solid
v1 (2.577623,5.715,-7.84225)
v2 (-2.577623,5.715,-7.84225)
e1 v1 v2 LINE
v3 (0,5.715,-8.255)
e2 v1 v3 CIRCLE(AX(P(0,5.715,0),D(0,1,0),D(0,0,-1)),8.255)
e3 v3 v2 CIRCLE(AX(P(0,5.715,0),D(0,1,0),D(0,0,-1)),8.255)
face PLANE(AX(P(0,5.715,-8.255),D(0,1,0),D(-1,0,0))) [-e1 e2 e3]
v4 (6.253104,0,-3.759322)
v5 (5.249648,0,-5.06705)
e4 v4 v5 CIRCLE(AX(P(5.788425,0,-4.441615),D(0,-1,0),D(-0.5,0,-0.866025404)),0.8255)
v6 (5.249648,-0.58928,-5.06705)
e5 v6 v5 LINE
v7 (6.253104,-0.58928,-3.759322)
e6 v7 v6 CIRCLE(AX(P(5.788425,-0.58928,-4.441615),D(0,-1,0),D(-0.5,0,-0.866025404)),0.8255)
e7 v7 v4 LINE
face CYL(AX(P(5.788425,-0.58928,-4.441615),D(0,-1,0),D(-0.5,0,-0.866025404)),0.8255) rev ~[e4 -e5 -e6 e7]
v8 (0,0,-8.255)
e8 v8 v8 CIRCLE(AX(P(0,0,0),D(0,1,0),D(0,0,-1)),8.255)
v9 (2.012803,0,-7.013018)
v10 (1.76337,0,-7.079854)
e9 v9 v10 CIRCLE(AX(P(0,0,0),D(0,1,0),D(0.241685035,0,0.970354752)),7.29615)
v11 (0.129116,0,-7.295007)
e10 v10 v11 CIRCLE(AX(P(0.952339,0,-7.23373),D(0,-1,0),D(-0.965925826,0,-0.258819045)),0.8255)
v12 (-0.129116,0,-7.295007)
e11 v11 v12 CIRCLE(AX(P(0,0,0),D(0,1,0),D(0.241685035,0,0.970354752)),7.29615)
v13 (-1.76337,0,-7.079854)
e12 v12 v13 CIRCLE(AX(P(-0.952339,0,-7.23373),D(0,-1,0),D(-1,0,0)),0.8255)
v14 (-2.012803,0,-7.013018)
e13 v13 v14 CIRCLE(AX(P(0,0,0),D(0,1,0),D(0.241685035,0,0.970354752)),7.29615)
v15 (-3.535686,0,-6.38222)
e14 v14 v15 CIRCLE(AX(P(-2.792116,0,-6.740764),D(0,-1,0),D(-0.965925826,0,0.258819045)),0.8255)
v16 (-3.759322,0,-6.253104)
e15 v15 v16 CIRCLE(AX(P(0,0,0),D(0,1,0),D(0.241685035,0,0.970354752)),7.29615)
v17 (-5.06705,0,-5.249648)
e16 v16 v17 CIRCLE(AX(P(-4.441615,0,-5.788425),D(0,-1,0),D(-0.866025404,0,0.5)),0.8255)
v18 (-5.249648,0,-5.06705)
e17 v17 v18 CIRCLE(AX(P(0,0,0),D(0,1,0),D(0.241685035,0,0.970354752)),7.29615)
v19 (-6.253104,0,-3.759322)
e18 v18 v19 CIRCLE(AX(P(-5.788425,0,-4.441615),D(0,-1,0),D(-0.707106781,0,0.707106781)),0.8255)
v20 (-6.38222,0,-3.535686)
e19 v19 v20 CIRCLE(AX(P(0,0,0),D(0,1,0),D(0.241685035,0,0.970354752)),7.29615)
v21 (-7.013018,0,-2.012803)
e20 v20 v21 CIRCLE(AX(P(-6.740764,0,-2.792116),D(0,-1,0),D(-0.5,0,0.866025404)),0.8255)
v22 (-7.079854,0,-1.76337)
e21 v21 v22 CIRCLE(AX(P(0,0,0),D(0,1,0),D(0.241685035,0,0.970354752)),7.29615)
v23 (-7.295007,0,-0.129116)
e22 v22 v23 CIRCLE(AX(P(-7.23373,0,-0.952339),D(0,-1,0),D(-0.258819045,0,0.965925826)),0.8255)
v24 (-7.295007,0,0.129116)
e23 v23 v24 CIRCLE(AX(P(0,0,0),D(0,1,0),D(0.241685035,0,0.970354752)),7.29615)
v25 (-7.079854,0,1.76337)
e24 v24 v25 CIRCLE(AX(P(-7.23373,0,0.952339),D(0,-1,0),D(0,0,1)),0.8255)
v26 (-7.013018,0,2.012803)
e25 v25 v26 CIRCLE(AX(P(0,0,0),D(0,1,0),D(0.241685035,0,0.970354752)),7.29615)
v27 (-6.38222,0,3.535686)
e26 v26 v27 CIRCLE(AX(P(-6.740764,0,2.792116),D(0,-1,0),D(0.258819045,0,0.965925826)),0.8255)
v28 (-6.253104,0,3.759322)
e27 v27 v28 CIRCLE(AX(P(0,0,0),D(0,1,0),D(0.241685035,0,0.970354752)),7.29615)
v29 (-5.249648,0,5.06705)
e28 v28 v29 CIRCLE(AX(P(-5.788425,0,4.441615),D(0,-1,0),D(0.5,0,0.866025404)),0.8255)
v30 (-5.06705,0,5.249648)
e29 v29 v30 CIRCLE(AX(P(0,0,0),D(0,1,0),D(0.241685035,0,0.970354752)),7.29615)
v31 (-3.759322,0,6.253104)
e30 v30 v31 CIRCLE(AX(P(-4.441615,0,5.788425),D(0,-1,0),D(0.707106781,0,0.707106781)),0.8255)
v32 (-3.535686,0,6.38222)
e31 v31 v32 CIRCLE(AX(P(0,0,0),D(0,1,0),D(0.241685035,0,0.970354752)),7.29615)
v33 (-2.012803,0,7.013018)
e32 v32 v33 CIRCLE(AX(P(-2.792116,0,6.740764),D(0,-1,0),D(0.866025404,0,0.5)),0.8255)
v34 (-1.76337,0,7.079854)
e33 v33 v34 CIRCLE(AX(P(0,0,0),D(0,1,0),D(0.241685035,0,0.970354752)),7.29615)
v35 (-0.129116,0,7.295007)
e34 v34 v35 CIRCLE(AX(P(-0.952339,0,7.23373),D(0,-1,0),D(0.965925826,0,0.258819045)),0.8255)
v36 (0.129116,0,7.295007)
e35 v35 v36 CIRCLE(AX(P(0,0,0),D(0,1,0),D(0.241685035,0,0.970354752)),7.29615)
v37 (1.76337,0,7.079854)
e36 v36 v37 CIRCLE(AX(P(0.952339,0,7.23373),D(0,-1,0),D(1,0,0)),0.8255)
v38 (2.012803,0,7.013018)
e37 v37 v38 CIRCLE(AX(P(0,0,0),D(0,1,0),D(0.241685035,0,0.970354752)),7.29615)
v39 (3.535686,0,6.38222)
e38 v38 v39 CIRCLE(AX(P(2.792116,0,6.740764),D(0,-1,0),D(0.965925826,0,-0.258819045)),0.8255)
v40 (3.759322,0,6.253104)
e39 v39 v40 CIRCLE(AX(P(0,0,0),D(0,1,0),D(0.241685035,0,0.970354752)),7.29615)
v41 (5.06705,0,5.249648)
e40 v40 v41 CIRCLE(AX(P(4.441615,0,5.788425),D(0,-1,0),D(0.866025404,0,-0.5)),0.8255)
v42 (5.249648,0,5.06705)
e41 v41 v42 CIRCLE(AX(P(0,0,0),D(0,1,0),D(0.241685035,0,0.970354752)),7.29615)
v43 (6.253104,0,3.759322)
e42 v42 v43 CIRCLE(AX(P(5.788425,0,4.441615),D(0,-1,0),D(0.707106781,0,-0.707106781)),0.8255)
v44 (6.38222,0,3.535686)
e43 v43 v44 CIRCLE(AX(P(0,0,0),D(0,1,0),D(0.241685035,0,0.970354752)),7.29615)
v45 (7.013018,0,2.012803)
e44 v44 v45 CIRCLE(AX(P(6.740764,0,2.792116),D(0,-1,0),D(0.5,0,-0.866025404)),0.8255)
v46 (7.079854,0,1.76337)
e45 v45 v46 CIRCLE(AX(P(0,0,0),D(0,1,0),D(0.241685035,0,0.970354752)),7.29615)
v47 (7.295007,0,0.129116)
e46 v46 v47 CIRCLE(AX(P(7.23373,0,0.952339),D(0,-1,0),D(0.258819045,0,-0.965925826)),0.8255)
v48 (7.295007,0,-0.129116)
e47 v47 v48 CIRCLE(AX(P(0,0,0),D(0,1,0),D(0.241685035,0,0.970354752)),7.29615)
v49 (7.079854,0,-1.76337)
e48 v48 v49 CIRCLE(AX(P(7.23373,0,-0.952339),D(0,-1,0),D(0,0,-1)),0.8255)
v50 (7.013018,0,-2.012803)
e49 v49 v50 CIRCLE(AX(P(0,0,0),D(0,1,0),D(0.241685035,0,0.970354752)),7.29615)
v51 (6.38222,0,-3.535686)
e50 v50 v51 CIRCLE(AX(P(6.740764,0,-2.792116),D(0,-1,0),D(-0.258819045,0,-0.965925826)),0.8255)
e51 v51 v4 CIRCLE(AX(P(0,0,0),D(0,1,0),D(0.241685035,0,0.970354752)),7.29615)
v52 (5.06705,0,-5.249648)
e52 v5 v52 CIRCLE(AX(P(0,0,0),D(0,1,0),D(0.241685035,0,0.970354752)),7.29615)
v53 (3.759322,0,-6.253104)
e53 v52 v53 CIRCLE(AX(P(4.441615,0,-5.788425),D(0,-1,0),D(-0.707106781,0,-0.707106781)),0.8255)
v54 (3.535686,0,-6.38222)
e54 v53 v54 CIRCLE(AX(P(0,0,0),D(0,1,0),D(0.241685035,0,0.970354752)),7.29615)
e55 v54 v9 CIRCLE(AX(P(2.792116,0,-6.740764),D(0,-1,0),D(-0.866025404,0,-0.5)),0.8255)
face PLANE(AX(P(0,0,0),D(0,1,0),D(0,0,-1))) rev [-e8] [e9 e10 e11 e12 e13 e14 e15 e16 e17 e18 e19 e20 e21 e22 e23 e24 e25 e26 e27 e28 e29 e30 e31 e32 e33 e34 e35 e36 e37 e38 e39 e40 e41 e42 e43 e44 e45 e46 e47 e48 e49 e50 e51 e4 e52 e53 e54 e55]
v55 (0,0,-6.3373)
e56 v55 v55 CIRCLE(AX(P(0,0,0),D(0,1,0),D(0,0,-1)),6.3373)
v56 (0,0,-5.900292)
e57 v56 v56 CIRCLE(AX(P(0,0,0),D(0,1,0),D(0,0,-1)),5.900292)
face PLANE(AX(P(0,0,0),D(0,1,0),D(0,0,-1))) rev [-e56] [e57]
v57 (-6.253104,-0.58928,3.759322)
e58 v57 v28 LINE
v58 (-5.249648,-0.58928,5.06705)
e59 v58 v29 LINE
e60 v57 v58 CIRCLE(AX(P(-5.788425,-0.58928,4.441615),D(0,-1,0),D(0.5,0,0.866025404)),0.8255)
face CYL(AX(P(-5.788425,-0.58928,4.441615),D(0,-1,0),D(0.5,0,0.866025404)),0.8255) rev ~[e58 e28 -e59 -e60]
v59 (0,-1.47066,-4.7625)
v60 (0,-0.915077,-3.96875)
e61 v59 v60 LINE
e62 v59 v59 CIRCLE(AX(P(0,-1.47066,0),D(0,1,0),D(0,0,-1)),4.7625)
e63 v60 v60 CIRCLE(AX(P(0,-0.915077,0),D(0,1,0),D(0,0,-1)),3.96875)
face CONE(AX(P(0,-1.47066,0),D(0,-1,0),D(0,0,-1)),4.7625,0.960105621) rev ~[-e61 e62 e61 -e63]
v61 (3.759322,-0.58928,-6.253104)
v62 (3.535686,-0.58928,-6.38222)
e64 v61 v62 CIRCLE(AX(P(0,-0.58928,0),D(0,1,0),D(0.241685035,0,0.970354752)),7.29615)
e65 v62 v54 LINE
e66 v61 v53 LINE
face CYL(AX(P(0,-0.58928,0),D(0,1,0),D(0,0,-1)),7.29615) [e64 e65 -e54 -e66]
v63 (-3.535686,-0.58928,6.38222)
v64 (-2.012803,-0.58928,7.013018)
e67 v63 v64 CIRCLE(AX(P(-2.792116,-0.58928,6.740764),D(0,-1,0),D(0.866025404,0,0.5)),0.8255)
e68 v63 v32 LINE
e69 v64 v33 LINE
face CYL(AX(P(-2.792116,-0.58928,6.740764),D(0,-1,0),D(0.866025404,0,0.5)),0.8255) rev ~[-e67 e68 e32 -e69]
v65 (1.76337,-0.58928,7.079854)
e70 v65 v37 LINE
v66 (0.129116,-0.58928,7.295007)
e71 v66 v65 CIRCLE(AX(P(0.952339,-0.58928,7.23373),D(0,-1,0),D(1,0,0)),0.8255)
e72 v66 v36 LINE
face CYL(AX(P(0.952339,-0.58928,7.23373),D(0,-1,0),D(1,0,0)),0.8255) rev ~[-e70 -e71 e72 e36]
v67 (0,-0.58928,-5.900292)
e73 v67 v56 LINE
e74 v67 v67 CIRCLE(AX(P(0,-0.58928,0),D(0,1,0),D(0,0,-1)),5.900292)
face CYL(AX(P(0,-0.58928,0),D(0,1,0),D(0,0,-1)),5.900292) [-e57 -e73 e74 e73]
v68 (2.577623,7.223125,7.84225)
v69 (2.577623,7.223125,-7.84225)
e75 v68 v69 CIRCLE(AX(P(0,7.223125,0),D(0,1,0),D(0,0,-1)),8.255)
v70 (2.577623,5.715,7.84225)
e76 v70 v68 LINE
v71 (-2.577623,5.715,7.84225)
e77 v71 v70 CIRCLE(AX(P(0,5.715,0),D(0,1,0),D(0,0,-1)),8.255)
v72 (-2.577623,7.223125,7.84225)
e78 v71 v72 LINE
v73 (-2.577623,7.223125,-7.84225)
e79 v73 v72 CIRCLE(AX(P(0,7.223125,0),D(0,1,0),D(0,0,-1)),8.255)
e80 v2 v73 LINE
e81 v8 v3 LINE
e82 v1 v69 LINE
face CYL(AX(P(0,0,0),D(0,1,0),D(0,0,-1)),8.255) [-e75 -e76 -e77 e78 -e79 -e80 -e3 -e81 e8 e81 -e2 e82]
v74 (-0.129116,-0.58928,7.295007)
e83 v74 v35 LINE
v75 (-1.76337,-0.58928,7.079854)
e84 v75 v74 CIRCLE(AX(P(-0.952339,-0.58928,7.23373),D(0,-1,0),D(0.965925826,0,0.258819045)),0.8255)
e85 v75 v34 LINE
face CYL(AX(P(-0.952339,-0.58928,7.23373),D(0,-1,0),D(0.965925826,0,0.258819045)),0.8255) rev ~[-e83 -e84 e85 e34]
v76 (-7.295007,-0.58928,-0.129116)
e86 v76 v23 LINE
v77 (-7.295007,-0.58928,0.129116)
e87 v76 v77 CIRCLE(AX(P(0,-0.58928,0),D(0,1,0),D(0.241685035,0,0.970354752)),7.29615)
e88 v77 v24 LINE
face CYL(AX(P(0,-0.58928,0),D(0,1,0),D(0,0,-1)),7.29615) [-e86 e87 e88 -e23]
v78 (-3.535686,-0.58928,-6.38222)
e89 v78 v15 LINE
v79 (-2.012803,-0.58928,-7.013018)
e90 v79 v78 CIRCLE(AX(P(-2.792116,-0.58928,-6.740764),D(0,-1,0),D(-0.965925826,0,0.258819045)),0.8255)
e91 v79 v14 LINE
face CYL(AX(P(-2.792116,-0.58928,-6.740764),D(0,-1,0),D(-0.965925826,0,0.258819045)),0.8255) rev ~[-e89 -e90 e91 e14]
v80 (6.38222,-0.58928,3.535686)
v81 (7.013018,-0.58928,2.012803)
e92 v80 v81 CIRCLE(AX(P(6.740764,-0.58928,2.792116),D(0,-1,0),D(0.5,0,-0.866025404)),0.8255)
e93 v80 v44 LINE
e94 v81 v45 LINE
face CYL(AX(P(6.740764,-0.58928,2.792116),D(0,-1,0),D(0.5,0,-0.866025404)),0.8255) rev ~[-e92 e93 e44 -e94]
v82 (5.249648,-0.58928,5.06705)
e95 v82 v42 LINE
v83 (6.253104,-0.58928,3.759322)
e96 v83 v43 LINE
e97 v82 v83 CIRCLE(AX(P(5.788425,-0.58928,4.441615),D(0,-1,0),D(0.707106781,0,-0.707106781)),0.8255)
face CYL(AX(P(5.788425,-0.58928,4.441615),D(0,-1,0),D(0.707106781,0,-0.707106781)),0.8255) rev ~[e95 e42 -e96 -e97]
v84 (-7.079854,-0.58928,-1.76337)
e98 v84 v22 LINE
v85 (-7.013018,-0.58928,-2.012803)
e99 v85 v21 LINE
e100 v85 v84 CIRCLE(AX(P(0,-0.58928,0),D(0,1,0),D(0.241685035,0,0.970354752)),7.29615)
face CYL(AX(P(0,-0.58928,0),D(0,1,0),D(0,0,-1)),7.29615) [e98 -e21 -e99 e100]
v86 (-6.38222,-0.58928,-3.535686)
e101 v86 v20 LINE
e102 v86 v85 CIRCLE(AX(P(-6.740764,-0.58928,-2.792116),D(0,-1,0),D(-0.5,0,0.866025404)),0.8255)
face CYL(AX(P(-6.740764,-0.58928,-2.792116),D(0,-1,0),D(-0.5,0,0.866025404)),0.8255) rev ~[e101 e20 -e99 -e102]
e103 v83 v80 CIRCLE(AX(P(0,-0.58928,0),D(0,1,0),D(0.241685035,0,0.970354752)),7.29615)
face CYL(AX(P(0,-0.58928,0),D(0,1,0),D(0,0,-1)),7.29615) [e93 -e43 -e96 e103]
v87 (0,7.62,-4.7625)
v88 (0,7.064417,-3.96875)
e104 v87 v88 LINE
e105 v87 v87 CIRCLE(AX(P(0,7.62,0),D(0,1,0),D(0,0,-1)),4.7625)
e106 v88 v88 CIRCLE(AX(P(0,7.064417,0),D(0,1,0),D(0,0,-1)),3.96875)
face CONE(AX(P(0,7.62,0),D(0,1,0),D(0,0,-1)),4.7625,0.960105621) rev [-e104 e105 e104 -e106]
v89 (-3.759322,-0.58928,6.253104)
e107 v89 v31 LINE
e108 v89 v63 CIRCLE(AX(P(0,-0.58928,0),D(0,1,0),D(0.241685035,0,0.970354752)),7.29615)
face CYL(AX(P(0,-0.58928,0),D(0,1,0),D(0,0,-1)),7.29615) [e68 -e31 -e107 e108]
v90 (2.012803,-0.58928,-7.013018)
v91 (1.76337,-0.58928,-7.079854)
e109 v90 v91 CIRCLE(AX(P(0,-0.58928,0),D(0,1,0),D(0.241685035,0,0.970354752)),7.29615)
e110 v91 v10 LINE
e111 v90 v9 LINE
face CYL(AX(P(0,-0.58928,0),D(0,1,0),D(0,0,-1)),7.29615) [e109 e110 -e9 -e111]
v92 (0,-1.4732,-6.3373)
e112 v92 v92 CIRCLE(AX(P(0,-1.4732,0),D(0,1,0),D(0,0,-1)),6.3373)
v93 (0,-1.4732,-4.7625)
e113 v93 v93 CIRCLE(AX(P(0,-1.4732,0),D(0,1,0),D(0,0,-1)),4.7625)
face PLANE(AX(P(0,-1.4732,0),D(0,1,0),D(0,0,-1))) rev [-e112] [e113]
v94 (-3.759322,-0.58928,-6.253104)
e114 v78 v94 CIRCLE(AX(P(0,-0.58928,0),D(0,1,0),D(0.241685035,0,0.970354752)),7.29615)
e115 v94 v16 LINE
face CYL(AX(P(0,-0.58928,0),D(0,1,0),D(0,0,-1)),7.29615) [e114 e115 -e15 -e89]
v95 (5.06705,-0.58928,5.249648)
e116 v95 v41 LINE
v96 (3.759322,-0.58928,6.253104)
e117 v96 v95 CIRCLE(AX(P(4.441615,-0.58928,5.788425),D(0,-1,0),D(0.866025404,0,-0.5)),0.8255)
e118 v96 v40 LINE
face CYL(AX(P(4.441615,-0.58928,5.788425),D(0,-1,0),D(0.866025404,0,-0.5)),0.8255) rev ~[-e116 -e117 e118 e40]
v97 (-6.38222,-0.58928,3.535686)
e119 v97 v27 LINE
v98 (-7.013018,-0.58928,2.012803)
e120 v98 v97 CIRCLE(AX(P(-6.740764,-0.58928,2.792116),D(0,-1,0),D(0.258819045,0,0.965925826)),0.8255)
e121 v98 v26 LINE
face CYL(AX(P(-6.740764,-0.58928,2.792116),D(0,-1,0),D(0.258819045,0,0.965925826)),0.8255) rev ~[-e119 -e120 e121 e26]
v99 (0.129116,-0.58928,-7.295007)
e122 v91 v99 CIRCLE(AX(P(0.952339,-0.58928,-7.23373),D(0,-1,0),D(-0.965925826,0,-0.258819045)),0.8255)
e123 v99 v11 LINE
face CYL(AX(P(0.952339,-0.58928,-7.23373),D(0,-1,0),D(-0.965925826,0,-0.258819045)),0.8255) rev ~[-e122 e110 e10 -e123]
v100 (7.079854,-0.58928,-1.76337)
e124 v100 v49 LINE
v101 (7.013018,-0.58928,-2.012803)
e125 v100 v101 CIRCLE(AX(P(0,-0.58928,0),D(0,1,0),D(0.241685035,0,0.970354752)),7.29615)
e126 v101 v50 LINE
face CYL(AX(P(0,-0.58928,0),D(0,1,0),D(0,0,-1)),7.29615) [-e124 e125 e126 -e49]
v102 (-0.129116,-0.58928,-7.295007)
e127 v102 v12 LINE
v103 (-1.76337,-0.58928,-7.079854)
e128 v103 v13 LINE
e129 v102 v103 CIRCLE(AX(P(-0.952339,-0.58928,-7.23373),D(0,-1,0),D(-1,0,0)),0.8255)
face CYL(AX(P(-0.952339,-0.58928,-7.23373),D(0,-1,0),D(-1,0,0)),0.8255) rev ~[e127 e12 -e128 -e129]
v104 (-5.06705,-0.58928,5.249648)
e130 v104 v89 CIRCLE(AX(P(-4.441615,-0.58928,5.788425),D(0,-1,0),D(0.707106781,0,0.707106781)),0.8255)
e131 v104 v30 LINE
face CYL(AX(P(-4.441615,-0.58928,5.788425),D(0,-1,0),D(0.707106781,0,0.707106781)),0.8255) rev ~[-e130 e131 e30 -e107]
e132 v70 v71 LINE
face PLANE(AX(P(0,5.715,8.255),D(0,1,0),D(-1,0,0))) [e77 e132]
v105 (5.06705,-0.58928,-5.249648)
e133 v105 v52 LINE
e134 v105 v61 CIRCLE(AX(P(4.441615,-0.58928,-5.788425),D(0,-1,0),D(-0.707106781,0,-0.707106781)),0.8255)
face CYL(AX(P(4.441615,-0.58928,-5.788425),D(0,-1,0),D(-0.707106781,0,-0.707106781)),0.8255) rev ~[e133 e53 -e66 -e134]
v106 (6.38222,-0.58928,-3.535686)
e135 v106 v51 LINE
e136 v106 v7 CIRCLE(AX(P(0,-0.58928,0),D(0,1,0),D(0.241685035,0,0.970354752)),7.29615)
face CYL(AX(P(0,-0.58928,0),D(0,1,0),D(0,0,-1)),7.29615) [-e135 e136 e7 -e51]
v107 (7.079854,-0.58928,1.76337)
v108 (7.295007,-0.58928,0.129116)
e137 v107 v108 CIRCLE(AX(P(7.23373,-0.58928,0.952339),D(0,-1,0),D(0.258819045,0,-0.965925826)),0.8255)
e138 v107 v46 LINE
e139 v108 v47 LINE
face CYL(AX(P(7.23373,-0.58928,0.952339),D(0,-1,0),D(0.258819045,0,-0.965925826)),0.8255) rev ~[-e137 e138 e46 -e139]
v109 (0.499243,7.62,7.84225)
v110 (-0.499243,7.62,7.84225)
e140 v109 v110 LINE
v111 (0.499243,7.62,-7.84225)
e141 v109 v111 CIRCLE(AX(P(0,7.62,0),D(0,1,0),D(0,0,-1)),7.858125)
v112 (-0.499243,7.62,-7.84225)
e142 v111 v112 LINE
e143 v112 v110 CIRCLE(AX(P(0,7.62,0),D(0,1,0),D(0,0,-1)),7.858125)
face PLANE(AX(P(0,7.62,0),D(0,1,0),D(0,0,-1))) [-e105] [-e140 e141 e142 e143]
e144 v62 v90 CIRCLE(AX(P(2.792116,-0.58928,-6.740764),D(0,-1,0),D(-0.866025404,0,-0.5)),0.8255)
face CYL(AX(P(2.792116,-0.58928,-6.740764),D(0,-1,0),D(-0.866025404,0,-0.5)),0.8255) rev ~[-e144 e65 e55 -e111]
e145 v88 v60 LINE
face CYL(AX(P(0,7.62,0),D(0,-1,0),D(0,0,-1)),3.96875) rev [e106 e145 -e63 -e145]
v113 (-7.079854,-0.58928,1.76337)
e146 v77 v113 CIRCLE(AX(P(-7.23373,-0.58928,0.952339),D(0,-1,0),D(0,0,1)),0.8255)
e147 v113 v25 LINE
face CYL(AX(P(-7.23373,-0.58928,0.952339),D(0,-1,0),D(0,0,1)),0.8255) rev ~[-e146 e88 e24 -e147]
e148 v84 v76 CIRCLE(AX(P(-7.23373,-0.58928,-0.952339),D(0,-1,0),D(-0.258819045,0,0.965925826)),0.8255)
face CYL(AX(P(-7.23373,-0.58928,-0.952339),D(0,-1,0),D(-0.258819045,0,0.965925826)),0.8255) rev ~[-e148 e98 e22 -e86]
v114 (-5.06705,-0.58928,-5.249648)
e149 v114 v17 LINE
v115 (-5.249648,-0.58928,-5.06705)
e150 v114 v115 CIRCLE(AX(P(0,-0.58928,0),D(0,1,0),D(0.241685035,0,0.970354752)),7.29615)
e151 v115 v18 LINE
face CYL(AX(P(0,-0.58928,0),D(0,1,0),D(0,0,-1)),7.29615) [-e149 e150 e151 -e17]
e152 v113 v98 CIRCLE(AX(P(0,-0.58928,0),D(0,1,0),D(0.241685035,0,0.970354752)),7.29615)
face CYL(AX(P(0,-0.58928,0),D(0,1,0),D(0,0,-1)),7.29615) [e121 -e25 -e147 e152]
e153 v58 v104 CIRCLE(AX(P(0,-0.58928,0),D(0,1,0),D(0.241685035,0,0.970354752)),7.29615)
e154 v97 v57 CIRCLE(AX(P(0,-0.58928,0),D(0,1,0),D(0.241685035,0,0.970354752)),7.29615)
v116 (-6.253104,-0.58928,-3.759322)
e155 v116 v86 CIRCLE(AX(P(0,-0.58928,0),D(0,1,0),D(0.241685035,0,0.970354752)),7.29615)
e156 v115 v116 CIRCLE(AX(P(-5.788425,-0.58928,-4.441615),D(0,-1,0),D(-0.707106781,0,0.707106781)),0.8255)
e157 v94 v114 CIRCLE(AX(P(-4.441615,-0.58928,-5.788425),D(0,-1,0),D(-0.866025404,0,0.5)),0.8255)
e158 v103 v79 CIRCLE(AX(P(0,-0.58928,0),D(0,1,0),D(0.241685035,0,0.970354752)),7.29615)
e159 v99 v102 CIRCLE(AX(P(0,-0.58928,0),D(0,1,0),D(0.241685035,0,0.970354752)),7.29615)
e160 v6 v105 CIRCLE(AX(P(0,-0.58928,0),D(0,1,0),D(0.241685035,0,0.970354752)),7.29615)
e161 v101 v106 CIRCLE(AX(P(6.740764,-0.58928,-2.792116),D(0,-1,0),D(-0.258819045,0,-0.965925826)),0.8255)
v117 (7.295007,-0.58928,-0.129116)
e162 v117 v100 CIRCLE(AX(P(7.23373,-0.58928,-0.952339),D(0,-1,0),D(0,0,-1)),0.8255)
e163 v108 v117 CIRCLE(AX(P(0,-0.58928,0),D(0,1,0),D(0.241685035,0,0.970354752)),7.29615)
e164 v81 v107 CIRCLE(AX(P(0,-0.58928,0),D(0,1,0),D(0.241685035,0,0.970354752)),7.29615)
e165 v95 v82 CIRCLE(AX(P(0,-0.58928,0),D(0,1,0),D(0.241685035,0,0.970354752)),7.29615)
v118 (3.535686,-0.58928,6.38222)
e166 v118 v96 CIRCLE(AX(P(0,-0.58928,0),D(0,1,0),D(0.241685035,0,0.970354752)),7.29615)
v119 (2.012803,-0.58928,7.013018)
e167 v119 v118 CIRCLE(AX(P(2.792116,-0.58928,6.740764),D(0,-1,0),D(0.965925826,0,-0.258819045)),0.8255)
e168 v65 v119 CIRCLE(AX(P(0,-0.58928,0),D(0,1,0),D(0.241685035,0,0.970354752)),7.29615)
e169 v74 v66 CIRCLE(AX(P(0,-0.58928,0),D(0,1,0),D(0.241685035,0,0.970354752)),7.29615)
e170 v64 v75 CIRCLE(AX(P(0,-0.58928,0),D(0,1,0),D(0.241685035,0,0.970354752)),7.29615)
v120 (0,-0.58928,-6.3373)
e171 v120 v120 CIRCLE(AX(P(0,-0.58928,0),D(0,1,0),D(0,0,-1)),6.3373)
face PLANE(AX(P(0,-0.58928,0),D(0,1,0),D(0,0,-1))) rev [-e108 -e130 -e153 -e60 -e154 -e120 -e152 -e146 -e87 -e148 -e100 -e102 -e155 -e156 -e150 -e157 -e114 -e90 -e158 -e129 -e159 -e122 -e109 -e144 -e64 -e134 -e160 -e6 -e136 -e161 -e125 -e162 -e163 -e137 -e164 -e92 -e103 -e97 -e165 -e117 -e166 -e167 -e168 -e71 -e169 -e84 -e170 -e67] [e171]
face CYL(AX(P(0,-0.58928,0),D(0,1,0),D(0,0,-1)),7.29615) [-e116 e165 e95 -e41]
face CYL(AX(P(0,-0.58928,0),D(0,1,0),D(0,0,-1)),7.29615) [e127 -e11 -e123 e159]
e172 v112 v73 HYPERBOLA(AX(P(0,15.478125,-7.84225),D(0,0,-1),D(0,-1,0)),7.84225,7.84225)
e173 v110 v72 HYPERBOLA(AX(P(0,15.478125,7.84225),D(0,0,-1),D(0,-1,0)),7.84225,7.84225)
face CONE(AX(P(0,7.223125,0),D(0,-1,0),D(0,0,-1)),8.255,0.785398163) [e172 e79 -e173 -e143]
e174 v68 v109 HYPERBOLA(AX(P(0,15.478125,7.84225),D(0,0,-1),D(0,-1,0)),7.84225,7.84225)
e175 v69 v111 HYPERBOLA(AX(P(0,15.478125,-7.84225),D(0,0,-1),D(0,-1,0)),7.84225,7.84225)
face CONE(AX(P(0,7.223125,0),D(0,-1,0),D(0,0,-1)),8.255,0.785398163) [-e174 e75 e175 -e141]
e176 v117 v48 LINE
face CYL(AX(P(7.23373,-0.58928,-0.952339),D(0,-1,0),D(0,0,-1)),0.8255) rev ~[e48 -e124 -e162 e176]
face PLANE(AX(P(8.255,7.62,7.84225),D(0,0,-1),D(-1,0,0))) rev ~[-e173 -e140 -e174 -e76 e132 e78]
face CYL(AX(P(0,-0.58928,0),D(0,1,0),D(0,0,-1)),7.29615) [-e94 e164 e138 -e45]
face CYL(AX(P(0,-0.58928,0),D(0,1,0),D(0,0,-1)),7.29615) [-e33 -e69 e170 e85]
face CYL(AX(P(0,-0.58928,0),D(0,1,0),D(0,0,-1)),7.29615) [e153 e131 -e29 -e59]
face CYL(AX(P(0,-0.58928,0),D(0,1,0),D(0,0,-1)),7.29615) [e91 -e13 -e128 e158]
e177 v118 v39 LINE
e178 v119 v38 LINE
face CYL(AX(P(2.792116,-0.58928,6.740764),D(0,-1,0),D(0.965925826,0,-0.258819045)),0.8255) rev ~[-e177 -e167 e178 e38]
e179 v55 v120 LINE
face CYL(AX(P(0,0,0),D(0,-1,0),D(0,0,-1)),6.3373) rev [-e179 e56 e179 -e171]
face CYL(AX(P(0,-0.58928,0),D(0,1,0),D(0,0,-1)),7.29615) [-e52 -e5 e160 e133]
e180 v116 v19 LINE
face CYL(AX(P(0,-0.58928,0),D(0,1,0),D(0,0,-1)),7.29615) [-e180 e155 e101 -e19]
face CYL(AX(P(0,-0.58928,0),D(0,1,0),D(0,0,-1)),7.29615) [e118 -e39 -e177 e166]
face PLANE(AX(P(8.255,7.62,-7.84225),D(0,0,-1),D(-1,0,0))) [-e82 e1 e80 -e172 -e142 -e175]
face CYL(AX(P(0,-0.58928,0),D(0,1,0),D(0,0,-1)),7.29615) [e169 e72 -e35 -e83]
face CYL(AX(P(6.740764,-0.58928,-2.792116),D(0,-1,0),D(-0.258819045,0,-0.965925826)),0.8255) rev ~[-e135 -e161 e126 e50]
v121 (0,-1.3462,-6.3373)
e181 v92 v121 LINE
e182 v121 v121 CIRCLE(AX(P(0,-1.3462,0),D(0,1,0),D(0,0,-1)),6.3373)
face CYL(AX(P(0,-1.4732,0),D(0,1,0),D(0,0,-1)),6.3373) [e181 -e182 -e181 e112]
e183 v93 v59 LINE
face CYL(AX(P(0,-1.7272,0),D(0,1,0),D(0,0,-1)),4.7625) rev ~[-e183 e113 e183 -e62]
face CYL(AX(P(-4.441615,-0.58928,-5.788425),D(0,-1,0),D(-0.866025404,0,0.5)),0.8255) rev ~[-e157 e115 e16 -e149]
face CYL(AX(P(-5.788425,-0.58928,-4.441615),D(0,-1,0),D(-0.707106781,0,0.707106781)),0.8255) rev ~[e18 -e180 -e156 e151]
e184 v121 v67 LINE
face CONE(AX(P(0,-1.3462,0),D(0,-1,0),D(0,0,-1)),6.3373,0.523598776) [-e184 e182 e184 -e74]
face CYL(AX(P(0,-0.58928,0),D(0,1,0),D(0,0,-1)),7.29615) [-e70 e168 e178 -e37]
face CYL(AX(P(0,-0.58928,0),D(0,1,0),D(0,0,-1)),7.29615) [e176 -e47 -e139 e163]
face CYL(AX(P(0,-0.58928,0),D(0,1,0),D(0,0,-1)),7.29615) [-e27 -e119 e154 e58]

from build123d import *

# Parameters (mm, degrees)
CHAMFER_2_SIZE        = 0.396875
FLATSSKE_W            = 16.51
FLATSSKE_H            = 0.8255
FLATS_DEPTH           = 1.905
CLICUTSKE_R           = 0.8255
CLINCHINGCUT_DEPTH    = 0.58928
CLINCHINGCUTPAT_COUNT = 24
CLINCHINGCUTPAT_ANGLE = 345


with BuildPart() as part:
    # BodySke → Body (revolve)
    with BuildSketch(Plane.XY, mode=Mode.PRIVATE) as body_sk:
        Polygon((5.900292034, 0), (6.3373, 0), (6.3373, -0.58928), (7.29615, -0.58928), (7.29615, 0), (8.255, 0), (8.255, 7.62), (3.96875, 7.62), (3.96875, -1.4732), (6.3373, -1.4732), (6.3373, -1.3462), (5.900292034, -0.58928), align=None)
    revolve(body_sk.sketch.rotate(Axis((0, 0, 0), (0, 1, 0)), 90), axis=Axis((0, 0, 0), (0, 1, 0)))

    # Chamfer 2
    chamfer_2_edges = [part.edges().sort_by_distance(p)[0] for p in [
        (0, 7.62, 8.255),
    ]]
    chamfer(chamfer_2_edges, length=CHAMFER_2_SIZE)

    # FlatsSke → Flats (cut)
    with BuildSketch(Plane(origin=(0, 7.62, 0), x_dir=(-1, 0, 0), z_dir=(0, 1, 0))):
        with Locations((0, 8.255)):
            Rectangle(FLATSSKE_W, FLATSSKE_H)
        with Locations((0, -8.255)):
            Rectangle(FLATSSKE_W, FLATSSKE_H)
    extrude(amount=-FLATS_DEPTH, mode=Mode.SUBTRACT)

    # EndChamferSke → EndChamfer (revolve, cut)
    with BuildSketch(Plane.XY, mode=Mode.PRIVATE) as endchamfer_sk:
        Polygon((4.7625, -1.7272), (4.7625, -1.47066), (3.96875, -0.915076699), (3.96875, -1.7272), align=None)
        Polygon((4.7625, 7.62), (3.96875, 7.064416699), (3.96875, 7.62), align=None)
    revolve(endchamfer_sk.sketch.rotate(Axis((0, -2.54, 0), (0, 1, 0)), 90), axis=Axis((0, -2.54, 0), (0, 1, 0)), mode=Mode.SUBTRACT)

    # CliCutSke → ClinchingCut (cut)
    with BuildSketch(Plane.XZ.offset(0.58928)):
        with Locations((0.952338677, 7.233730425)):
            Circle(CLICUTSKE_R)
    clinchingcut = extrude(amount=-CLINCHINGCUT_DEPTH, mode=Mode.SUBTRACT)

    # ClinchingCutPat: ClinchingCut ×24 about axis
    clinchingcutpat_axis = Axis((0, 0, 0), (0, 1, 0))
    for i in range(1, CLINCHINGCUTPAT_COUNT):
        add(clinchingcut.rotate(clinchingcutpat_axis, i * CLINCHINGCUTPAT_ANGLE / (CLINCHINGCUTPAT_COUNT - 1)), mode=Mode.SUBTRACT)


solid = part.part
